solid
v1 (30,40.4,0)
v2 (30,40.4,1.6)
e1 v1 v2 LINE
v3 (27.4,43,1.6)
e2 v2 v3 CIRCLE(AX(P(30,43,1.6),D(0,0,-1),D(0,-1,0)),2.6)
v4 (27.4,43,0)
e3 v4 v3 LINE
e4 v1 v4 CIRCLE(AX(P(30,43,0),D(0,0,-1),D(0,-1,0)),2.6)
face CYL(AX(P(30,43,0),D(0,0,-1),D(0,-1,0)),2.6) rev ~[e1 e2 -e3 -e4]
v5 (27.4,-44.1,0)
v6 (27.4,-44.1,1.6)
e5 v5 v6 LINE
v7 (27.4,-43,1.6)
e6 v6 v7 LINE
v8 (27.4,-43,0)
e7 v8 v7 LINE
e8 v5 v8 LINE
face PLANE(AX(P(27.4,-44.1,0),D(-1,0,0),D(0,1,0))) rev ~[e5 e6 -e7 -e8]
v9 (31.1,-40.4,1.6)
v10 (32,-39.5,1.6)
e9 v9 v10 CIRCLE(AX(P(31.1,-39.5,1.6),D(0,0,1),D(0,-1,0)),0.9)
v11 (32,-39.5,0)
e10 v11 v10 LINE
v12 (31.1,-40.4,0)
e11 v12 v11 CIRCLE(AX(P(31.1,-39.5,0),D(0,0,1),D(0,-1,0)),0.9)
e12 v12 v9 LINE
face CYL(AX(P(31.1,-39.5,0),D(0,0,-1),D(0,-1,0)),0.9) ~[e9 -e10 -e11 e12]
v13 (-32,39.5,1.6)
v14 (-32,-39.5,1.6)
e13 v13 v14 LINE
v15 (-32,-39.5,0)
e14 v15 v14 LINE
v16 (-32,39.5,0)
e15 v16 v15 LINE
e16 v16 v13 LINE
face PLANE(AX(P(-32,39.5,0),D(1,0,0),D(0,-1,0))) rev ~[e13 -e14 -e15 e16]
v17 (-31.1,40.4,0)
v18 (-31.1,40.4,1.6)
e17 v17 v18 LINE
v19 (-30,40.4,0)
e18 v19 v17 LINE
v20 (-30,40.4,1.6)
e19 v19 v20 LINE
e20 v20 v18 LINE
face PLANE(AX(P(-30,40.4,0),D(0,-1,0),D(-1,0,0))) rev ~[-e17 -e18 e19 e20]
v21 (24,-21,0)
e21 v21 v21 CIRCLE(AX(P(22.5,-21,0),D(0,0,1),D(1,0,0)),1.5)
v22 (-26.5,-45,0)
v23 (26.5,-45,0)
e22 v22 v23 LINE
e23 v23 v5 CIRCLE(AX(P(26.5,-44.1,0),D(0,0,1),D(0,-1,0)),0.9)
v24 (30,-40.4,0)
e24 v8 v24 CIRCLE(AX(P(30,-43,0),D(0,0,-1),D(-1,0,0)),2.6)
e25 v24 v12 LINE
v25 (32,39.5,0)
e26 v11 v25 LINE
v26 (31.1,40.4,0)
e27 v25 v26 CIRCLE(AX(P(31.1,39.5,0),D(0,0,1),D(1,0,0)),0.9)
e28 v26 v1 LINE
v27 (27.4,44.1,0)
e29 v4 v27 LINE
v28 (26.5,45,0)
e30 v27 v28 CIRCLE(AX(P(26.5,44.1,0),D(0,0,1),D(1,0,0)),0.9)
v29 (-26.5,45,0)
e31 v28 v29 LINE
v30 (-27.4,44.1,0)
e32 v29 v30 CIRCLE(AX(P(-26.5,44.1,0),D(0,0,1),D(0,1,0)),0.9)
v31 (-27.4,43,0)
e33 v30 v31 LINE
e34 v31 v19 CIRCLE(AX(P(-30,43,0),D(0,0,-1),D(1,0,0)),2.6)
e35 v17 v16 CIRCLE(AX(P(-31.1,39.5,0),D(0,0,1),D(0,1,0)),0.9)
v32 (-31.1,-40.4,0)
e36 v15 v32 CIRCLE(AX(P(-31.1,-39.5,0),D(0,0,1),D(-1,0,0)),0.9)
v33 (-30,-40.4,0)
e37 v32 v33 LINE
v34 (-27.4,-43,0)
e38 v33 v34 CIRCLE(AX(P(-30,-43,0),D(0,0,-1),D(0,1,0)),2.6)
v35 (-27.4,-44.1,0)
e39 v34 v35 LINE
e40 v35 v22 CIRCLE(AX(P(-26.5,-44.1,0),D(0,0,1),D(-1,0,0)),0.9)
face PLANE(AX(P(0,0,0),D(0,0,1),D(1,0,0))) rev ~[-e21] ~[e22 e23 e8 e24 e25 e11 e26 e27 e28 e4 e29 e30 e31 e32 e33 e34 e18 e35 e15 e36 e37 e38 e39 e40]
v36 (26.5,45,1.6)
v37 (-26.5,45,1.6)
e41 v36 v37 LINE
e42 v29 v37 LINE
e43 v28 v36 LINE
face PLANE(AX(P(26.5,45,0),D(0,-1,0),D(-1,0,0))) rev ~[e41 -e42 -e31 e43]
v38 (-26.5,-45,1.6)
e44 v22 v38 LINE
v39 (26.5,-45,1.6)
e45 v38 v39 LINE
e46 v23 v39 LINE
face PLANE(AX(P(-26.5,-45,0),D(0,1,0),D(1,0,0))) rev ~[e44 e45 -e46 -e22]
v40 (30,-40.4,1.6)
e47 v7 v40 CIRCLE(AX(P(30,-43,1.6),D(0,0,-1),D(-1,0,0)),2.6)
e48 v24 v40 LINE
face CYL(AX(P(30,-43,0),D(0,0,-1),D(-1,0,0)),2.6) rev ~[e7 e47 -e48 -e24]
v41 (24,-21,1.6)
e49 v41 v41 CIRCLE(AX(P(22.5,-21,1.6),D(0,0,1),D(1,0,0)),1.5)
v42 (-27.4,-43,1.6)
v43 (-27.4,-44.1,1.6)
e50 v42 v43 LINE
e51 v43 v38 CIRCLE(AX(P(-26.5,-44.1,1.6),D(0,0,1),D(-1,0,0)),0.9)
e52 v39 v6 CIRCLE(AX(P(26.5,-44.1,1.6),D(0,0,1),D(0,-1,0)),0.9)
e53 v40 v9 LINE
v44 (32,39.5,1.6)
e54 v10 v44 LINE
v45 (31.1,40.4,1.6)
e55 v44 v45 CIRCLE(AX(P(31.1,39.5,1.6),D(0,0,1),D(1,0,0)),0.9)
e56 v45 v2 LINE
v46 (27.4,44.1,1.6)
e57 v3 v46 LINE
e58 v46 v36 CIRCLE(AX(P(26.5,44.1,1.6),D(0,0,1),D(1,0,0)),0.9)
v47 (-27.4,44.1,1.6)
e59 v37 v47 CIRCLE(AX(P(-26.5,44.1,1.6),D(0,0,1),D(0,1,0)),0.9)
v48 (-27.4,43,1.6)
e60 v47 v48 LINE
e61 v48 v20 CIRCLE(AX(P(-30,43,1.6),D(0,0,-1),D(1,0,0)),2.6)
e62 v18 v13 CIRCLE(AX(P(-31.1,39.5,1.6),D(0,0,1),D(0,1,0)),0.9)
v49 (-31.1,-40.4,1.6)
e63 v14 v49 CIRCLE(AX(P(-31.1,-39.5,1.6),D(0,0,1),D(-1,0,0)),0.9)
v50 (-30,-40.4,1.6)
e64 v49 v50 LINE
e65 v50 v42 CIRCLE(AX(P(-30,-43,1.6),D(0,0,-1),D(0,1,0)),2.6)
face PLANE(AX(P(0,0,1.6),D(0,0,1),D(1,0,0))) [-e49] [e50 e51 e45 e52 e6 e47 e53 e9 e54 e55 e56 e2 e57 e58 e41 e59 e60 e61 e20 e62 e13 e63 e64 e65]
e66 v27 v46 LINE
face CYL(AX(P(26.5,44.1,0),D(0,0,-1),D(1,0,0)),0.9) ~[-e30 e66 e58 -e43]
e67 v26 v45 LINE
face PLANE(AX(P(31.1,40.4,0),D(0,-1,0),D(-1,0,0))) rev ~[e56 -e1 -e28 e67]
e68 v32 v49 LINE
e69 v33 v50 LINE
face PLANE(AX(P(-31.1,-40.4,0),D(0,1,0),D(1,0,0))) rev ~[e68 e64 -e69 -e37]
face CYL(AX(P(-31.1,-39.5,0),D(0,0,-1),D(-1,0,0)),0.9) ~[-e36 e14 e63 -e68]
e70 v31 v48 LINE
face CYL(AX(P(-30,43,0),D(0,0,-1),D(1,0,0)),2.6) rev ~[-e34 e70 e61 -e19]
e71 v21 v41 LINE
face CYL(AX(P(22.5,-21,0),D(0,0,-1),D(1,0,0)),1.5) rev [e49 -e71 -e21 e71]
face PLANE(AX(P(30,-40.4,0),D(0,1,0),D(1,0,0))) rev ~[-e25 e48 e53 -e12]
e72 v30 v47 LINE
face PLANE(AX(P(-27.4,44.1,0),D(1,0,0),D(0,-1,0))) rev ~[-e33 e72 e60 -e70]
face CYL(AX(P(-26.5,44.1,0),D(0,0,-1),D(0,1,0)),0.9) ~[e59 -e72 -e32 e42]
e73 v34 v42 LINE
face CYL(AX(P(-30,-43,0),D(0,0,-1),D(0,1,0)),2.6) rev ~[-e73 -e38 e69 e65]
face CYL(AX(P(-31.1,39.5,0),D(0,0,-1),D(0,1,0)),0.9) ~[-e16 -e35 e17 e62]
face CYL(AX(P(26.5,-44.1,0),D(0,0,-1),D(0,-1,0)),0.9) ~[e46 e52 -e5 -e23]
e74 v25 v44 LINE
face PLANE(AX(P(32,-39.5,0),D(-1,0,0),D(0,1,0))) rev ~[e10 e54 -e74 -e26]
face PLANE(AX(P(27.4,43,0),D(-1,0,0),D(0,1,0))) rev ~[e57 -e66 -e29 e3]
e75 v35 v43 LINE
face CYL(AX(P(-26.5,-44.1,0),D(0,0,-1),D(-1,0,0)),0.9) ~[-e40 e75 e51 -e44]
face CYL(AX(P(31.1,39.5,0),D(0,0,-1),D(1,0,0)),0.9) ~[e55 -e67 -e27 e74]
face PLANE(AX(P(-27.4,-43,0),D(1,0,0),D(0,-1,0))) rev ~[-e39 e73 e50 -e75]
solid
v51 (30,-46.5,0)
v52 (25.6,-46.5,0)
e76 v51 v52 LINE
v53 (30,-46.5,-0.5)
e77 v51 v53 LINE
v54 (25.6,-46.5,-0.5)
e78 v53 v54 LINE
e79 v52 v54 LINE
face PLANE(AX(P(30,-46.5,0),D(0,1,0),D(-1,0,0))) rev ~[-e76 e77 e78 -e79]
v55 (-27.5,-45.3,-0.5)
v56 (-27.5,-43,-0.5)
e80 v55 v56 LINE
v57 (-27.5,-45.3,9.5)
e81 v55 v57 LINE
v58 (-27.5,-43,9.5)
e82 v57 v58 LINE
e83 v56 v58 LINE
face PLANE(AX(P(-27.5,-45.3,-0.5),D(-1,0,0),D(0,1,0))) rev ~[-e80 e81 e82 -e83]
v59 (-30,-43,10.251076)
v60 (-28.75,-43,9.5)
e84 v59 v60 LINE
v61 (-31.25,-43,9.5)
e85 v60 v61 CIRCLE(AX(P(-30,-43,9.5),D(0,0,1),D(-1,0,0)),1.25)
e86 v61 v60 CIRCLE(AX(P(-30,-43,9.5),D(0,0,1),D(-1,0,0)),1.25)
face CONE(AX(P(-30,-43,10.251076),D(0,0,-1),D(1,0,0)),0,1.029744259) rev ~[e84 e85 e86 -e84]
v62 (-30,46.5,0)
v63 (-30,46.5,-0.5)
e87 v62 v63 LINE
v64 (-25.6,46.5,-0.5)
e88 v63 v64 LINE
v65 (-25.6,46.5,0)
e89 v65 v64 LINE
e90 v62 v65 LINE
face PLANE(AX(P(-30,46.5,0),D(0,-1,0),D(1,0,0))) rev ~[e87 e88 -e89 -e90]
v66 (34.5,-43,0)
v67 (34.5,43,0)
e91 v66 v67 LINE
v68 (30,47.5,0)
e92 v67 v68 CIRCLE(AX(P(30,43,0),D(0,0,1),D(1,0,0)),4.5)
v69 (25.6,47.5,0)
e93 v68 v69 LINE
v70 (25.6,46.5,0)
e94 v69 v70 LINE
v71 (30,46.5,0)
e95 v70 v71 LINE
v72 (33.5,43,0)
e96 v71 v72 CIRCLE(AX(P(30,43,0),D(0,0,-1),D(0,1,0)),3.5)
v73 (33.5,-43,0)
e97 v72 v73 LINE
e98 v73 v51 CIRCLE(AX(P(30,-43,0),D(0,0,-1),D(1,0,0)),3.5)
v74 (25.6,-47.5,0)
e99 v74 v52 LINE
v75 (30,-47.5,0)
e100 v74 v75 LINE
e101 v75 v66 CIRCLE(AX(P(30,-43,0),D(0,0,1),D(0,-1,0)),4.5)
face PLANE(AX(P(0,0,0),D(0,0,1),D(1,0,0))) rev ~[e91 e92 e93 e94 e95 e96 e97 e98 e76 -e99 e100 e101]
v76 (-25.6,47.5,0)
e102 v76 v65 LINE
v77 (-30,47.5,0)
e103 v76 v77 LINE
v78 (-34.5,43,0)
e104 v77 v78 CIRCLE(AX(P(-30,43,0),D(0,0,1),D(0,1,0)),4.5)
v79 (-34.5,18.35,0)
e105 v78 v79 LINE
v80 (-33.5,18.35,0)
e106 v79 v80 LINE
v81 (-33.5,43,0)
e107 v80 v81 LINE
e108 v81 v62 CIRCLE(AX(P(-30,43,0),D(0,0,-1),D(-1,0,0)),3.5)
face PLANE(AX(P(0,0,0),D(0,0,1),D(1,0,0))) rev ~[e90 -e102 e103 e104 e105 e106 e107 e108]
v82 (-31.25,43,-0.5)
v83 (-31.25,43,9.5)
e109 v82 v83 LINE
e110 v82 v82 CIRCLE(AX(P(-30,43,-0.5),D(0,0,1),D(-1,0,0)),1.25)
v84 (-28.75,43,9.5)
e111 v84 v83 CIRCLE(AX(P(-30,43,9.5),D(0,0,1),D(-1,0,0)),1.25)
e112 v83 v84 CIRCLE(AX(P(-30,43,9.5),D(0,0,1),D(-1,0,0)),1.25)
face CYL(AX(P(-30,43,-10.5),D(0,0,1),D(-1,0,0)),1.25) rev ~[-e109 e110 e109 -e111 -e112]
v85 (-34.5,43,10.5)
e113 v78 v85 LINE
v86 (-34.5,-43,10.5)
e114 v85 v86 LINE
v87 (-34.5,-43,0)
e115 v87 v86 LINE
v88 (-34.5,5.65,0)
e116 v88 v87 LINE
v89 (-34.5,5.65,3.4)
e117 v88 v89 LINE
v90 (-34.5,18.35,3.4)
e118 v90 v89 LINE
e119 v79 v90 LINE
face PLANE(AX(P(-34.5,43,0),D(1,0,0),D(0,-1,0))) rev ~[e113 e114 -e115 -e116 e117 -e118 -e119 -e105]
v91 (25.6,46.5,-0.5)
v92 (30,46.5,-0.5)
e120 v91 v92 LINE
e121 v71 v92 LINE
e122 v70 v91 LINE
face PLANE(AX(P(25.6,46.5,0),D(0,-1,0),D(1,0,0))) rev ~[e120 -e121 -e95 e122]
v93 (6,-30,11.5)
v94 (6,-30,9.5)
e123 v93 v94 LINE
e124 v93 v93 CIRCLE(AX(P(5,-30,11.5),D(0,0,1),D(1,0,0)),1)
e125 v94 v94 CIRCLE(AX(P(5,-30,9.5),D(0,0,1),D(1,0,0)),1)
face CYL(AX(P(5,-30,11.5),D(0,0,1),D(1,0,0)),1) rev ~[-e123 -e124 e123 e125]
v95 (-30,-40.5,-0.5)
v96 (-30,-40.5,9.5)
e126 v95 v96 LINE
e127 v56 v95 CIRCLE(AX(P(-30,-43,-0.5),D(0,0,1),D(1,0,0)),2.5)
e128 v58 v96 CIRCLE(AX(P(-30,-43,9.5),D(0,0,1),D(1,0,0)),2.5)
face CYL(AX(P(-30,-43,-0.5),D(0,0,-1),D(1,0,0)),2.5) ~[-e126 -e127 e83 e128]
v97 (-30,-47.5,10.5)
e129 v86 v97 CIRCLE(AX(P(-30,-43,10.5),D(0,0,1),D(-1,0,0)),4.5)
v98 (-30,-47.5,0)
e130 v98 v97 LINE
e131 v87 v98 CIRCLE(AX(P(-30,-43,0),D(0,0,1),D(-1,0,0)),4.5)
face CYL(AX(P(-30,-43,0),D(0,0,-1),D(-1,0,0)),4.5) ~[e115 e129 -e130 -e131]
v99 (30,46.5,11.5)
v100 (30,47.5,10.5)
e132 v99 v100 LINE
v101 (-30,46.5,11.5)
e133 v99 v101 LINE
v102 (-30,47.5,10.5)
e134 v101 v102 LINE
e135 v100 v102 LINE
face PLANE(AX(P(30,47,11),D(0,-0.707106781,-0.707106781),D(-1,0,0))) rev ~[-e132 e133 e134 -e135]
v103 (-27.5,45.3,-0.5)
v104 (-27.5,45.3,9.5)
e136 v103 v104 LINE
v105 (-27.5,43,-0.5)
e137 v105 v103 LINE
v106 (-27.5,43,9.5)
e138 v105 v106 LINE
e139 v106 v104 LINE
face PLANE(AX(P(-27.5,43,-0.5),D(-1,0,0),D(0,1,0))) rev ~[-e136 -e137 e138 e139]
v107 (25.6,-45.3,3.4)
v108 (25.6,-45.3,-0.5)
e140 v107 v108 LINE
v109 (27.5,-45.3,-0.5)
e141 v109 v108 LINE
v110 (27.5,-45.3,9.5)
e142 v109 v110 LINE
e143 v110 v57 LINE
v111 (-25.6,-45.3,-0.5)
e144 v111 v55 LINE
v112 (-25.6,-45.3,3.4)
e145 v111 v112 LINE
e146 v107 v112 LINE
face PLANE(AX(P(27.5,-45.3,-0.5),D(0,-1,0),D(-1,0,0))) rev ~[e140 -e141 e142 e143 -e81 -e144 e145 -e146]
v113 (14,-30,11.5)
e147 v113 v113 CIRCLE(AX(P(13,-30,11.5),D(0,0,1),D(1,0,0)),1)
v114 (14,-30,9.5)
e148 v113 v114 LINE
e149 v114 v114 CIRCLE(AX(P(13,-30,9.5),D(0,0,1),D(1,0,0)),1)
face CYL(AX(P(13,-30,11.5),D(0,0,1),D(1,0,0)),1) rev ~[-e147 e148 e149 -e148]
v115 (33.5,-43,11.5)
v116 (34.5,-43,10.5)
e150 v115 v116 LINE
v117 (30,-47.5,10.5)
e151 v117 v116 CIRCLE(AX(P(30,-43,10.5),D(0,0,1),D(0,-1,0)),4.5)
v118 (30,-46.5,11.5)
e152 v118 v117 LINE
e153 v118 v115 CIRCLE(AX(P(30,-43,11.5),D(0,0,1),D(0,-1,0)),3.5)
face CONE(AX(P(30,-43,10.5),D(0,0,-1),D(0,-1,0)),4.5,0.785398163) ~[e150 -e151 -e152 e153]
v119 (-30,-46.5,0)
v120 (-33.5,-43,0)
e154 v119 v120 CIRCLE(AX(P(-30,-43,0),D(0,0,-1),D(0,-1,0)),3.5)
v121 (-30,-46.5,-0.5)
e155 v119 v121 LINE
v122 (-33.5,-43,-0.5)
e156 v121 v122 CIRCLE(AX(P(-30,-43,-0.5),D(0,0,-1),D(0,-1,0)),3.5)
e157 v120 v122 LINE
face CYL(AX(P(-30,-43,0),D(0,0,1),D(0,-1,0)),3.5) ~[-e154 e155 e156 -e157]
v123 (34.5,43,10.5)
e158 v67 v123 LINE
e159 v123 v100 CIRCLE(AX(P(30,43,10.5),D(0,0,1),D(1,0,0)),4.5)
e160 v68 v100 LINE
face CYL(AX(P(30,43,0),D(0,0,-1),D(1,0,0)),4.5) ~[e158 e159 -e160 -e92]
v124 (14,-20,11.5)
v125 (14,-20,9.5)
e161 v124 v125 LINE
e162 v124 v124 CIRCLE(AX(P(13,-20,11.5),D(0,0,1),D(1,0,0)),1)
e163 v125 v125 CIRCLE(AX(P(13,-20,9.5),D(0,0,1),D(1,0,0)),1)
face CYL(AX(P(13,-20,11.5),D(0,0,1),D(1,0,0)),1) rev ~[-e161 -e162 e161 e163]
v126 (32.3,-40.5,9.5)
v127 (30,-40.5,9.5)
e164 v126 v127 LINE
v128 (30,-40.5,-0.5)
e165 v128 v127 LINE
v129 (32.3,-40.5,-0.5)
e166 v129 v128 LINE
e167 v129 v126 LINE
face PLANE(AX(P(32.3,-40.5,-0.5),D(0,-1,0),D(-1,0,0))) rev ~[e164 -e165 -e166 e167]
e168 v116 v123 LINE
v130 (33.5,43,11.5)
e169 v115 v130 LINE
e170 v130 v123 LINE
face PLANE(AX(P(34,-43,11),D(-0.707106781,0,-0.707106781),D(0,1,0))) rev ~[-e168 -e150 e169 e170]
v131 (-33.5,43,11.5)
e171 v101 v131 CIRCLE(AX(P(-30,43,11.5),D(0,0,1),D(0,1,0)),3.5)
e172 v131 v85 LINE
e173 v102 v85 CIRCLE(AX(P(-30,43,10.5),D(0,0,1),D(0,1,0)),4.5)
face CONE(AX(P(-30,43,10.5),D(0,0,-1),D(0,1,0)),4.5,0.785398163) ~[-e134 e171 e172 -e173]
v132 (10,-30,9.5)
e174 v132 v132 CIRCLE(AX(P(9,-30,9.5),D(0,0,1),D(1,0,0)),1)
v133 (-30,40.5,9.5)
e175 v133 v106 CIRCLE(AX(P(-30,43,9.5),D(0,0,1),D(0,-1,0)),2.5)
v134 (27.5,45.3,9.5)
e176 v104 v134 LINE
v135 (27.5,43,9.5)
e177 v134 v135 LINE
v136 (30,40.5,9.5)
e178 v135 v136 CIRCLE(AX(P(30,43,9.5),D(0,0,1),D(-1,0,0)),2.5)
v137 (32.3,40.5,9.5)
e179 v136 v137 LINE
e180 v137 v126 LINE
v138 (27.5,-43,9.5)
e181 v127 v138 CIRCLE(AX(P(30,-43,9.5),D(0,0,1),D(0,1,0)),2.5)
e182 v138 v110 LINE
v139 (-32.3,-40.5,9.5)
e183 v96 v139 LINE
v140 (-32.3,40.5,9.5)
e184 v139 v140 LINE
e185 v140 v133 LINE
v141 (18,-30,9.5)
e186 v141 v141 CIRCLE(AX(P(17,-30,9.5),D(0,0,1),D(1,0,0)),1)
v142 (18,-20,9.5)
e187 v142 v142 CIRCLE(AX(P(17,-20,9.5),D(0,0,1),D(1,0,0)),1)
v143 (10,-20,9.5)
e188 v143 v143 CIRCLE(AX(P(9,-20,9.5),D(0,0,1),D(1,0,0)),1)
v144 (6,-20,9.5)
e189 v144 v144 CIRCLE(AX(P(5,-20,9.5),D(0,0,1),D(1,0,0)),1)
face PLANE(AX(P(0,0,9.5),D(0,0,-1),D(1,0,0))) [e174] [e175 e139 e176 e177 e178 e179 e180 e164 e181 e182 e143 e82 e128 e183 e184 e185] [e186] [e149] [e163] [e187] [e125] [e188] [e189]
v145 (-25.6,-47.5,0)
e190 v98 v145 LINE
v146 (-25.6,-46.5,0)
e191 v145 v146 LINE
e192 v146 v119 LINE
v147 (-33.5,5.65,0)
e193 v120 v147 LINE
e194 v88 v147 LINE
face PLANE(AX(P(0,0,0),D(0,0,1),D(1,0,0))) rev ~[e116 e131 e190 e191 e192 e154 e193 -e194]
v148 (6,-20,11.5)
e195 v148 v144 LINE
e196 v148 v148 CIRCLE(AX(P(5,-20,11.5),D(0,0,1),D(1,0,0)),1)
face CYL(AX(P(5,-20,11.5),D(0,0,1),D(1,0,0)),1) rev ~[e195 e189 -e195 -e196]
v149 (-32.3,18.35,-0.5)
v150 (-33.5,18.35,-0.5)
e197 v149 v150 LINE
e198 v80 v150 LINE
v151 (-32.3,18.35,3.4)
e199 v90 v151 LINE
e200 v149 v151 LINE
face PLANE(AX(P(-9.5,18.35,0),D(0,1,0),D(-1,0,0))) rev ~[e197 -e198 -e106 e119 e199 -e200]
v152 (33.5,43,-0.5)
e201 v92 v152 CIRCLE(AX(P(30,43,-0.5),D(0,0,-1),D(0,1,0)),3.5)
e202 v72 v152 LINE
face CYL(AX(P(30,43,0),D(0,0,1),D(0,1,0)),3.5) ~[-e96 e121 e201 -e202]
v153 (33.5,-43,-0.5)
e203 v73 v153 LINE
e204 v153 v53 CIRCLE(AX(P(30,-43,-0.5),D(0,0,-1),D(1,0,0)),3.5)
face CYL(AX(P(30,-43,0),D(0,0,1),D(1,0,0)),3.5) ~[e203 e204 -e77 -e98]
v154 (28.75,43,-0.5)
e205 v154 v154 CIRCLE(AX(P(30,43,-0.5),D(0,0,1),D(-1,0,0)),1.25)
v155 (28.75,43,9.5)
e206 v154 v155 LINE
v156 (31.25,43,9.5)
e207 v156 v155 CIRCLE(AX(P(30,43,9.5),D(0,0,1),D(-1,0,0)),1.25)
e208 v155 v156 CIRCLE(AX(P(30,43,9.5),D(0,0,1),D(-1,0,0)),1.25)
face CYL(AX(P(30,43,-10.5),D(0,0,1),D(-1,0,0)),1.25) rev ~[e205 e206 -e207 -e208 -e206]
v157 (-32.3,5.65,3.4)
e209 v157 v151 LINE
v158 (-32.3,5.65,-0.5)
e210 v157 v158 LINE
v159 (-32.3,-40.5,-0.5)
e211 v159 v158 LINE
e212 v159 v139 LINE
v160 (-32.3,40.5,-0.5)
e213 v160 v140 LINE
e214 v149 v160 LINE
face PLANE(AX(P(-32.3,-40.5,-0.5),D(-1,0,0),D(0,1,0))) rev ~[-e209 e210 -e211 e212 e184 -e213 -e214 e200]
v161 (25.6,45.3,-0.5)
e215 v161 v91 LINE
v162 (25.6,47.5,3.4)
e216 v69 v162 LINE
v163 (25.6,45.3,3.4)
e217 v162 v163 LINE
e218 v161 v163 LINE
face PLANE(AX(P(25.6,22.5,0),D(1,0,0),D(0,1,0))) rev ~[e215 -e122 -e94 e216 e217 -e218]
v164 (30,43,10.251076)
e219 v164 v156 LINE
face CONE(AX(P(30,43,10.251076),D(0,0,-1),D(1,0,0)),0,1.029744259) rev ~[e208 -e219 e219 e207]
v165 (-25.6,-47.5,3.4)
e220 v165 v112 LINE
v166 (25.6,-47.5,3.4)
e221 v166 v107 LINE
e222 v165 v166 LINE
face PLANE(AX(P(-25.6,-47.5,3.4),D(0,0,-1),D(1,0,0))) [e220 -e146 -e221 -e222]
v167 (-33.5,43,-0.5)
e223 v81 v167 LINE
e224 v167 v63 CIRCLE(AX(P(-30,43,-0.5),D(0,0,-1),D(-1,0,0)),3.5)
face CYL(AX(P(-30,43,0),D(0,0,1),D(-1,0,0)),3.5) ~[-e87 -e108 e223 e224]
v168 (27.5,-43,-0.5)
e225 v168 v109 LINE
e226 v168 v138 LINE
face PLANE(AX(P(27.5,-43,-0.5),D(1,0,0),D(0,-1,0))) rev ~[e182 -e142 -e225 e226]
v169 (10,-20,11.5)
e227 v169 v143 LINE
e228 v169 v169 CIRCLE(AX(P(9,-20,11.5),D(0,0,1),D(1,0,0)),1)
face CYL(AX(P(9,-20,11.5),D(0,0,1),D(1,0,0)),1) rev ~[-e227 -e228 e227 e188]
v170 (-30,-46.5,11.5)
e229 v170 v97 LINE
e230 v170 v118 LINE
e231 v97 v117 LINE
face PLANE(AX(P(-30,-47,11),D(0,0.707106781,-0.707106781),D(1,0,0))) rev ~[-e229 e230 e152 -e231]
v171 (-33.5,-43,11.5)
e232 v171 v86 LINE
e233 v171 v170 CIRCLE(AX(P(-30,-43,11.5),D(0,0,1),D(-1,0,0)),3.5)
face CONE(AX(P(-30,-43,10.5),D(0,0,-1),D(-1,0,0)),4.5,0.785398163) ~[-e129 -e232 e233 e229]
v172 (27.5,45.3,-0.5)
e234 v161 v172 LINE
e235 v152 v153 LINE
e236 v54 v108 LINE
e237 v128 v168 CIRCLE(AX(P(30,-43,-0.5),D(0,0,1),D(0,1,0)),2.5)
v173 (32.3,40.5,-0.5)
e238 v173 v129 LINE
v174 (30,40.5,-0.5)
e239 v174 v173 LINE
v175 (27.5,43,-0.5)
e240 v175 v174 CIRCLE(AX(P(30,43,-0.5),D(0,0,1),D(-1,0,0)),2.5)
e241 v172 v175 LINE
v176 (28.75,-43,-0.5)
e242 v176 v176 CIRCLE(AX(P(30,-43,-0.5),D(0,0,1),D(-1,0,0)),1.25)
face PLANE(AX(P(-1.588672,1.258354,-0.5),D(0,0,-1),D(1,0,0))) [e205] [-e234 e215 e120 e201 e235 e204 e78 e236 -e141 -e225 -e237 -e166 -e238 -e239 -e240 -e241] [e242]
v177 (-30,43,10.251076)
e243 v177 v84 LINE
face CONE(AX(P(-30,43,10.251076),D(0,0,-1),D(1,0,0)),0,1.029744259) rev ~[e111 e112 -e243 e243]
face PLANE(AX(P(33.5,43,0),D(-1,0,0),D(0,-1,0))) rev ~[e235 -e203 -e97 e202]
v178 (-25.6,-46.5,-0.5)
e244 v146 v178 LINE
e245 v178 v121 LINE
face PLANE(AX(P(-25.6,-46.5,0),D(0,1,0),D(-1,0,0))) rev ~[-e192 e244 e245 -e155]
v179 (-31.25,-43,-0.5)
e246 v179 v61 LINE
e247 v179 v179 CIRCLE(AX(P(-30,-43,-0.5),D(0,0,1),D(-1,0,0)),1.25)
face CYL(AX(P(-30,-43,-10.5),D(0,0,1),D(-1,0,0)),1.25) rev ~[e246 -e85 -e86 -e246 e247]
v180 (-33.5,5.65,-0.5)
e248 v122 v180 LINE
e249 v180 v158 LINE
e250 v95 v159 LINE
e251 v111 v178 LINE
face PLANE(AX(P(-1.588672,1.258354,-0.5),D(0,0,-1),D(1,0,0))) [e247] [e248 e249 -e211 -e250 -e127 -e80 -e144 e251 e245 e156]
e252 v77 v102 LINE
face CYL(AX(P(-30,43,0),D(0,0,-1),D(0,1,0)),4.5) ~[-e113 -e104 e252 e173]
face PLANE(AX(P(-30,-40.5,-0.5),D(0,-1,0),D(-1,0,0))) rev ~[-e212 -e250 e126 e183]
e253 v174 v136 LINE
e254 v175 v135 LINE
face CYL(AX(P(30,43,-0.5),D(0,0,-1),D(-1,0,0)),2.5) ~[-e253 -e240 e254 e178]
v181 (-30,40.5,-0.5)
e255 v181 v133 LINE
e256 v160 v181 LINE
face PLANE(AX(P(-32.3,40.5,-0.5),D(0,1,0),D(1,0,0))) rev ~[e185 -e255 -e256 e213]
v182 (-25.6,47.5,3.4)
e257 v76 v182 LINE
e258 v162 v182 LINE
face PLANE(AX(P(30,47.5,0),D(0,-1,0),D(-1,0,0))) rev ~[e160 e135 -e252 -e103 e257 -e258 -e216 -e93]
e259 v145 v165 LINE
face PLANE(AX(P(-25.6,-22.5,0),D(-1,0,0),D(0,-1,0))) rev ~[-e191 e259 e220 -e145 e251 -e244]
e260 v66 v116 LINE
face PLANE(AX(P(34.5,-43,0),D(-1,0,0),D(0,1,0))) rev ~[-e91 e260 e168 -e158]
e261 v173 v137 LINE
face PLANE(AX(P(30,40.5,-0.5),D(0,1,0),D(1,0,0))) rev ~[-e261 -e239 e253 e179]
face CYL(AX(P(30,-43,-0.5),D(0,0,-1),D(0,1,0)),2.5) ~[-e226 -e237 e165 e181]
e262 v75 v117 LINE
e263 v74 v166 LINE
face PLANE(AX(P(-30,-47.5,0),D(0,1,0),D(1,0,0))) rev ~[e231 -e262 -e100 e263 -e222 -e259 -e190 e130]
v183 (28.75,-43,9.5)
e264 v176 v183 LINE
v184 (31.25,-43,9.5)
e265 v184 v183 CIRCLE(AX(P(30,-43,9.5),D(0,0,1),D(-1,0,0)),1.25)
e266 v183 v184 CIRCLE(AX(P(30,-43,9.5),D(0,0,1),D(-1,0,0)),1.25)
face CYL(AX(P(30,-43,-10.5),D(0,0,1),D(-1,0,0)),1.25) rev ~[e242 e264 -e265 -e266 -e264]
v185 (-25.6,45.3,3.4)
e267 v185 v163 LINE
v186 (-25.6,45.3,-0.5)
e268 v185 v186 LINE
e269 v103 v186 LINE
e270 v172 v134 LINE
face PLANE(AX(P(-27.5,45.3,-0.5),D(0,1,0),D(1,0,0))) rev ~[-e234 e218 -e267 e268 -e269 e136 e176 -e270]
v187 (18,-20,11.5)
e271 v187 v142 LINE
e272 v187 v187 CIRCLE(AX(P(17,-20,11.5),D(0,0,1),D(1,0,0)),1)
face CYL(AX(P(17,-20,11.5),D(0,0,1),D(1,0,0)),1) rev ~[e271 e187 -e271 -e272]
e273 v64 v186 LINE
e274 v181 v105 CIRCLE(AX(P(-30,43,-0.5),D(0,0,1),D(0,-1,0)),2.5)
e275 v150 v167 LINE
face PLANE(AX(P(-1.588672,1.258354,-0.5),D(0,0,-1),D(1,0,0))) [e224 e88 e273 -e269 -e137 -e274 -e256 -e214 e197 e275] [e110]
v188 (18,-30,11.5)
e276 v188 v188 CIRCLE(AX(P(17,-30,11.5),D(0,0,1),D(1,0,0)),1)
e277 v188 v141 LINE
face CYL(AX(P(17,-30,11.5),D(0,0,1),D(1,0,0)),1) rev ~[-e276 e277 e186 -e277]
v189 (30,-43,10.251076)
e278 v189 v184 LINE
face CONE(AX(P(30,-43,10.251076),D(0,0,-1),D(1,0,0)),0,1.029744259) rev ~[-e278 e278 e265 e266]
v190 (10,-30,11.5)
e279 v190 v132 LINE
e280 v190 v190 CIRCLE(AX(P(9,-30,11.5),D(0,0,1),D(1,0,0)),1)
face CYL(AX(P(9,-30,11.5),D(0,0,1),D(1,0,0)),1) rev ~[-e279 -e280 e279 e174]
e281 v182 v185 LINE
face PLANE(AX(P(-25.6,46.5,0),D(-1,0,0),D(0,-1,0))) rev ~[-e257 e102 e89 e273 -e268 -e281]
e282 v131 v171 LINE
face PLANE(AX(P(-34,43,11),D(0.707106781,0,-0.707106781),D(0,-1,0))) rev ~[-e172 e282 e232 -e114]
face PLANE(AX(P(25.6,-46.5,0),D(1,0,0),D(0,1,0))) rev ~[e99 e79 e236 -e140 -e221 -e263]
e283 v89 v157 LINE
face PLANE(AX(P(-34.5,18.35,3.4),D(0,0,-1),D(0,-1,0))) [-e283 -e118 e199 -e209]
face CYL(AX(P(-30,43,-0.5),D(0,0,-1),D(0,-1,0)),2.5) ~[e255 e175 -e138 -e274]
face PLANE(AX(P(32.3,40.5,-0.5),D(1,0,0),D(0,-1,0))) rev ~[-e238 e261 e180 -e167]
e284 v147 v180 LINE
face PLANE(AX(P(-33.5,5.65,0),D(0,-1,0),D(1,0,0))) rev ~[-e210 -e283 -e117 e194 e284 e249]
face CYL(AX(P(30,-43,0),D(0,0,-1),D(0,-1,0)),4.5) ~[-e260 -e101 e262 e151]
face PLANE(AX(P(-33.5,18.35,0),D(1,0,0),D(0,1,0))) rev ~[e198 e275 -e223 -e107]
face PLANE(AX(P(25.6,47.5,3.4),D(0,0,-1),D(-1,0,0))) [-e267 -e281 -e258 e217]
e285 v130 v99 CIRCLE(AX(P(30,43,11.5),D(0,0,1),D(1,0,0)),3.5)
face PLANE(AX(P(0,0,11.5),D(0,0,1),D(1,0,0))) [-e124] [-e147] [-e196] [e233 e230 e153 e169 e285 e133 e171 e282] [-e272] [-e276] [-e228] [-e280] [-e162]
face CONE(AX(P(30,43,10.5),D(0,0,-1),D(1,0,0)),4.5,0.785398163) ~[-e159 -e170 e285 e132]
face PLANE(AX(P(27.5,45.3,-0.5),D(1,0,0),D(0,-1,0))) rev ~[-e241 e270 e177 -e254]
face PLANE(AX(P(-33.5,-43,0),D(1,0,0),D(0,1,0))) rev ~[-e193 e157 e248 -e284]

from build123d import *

# Parameters (mm, degrees)
F1_DEPTH  = 11.5
F3_W      = 51.2
F3_H      = 3.4
F5_DEPTH  = 25
F2_W      = 51.2
F2_H      = 3.4
F6_DEPTH  = 25
F4_W      = 12.7
F4_H      = 3.4
F7_DEPTH  = 25
F9_DEPTH  = 0.5
F11_DEPTH = 10
F12_SIZE  = 1
F13_R     = 1
F14_DEPTH = 12.001
F15_R     = 1.5
F16_DEPTH = 1.6
F17_D     = 2.5
F17_DEPTH = 10
F17_TIP   = 0.7510757738


with BuildPart() as f1:
    # F0 (on Top) → F1 (new body)
    with BuildSketch(Plane.XY):
        with BuildLine():
            ThreePointArc((-34.5, -43), (-33.1819805153, -46.1819805153), (-30, -47.5))
            Line((-30, -47.5), (30, -47.5))
            ThreePointArc((30, -47.5), (33.1819805153, -46.1819805153), (34.5, -43))
            Line((34.5, -43), (34.5, 43))
            ThreePointArc((34.5, 43), (33.1819805153, 46.1819805153), (30, 47.5))
            Line((30, 47.5), (-30, 47.5))
            ThreePointArc((-30, 47.5), (-33.1819805153, 46.1819805153), (-34.5, 43))
            Line((-34.5, 43), (-34.5, -43))
        make_face()
    extrude(amount=F1_DEPTH)

    # F3 (on face) → F5 (cut)
    with BuildSketch(Plane(origin=(0, 47.5, 0), x_dir=(-1, 0, 0), z_dir=(0, 1, 0))):
        with Locations((0, 1.7)):
            Rectangle(F3_W, F3_H)
    extrude(amount=-F5_DEPTH, mode=Mode.SUBTRACT)

    # F2 (on face) → F6 (cut)
    with BuildSketch(Plane.XZ.offset(47.5)):
        with Locations((0, 1.7)):
            Rectangle(F2_W, F2_H)
    extrude(amount=-F6_DEPTH, mode=Mode.SUBTRACT)

    # F4 (on face) → F7 (cut)
    with BuildSketch(Plane(origin=(-34.5, 0, 0), x_dir=(0, -1, 0), z_dir=(-1, 0, 0))):
        with Locations((-12, 1.7)):
            Rectangle(F4_W, F4_H)
    extrude(amount=-F7_DEPTH, mode=Mode.SUBTRACT)

    # F8 (on face) → F9 (join)
    with BuildSketch(Plane(origin=(0, 0, 0), x_dir=(1, 0, 0), z_dir=(0, 0, -1))):
        with BuildLine():
            ThreePointArc((-30, 46.5), (-32.4748737342, 45.4748737342), (-33.5, 43))
            Line((-33.5, 43), (-33.5, -5.65))
            Line((-33.5, -5.65), (-9.5, -5.65))
            Line((-9.5, -5.65), (-9.5, -18.35))
            Line((-9.5, -18.35), (-33.5, -18.35))
            Line((-33.5, -18.35), (-33.5, -43))
            ThreePointArc((-33.5, -43), (-32.4748737342, -45.4748737342), (-30, -46.5))
            Line((-30, -46.5), (-25.6, -46.5))
            Line((-25.6, -46.5), (-25.6, -22.5))
            Line((-25.6, -22.5), (25.6, -22.5))
            Line((25.6, -22.5), (25.6, -46.5))
            Line((25.6, -46.5), (30, -46.5))
            ThreePointArc((30, -46.5), (32.4748737342, -45.4748737342), (33.5, -43))
            Line((33.5, -43), (33.5, 43))
            ThreePointArc((33.5, 43), (32.4748737342, 45.4748737342), (30, 46.5))
            Line((30, 46.5), (25.6, 46.5))
            Line((25.6, 46.5), (25.6, 22.5))
            Line((25.6, 22.5), (-25.6, 22.5))
            Line((-25.6, 22.5), (-25.6, 46.5))
            Line((-25.6, 46.5), (-30, 46.5))
        make_face()
    extrude(amount=F9_DEPTH)

    # F10 (on face) → F11 (cut)
    with BuildSketch(Plane(origin=(0, 0, -0.5), x_dir=(1, 0, 0), z_dir=(0, 0, -1))):
        with BuildLine():
            Line((27.5, 45.3), (-27.5, 45.3))
            Line((-27.5, 45.3), (-27.5, 43))
            ThreePointArc((-27.5, 43), (-28.232233047, 41.232233047), (-30, 40.5))
            Line((-30, 40.5), (-32.3, 40.5))
            Line((-32.3, 40.5), (-32.3, -40.5))
            Line((-32.3, -40.5), (-30, -40.5))
            ThreePointArc((-30, -40.5), (-28.232233047, -41.232233047), (-27.5, -43))
            Line((-27.5, -43), (-27.5, -45.3))
            Line((-27.5, -45.3), (27.5, -45.3))
            Line((27.5, -45.3), (27.5, -43))
            ThreePointArc((27.5, -43), (28.232233047, -41.232233047), (30, -40.5))
            Line((30, -40.5), (32.3, -40.5))
            Line((32.3, -40.5), (32.3, 40.5))
            Line((32.3, 40.5), (30, 40.5))
            ThreePointArc((30, 40.5), (28.232233047, 41.232233047), (27.5, 43))
            Line((27.5, 43), (27.5, 45.3))
        make_face()
    extrude(amount=-F11_DEPTH, mode=Mode.SUBTRACT)

    # F12
    f12_edges = [f1.edges().sort_by_distance(p)[0] for p in [
        (0, 47.5, 11.5),
        (-33.181981, 46.181981, 11.5),
        (-34.5, 0, 11.5),
        (-33.181981, -46.181981, 11.5),
        (0, -47.5, 11.5),
        (33.181981, -46.181981, 11.5),
        (34.5, 0, 11.5),
        (33.181981, 46.181981, 11.5),
    ]]
    chamfer(f12_edges, length=F12_SIZE)

    # F13 (on face) → F14 (cut, through all)
    with BuildSketch(Plane.XY.offset(11.5)):
        with Locations((5, -30)):
            Circle(F13_R)
        with Locations((9, -30)):
            Circle(F13_R)
        with Locations((13, -30)):
            Circle(F13_R)
        with Locations((17, -30)):
            Circle(F13_R)
        with Locations((5, -20)):
            Circle(F13_R)
        with Locations((9, -20)):
            Circle(F13_R)
        with Locations((13, -20)):
            Circle(F13_R)
        with Locations((17, -20)):
            Circle(F13_R)
    extrude(amount=-F14_DEPTH, mode=Mode.SUBTRACT)

    # F17
    with Locations(Plane(origin=(0, 0, -0.5), x_dir=(1, 0, 0), z_dir=(0, 0, -1))):
        with Locations((-30, 43), (30, 43), (30, -43), (-30, -43)):
            Hole(F17_D / 2, depth=F17_DEPTH)
            with Locations((0, 0, -(F17_DEPTH + F17_TIP / 2))):  # 118° drill point
                Cone(0, F17_D / 2, F17_TIP, mode=Mode.SUBTRACT)


with BuildPart() as f16:
    # F15 (on Top) → F16 (new body)
    with BuildSketch(Plane.XY):
        with BuildLine():
            ThreePointArc((-27.4, -44.1), (-27.1363961031, -44.7363961031), (-26.5, -45))
            Line((-26.5, -45), (26.5, -45))
            ThreePointArc((26.5, -45), (27.1363961031, -44.7363961031), (27.4, -44.1))
            Line((27.4, -44.1), (27.4, -43))
            ThreePointArc((27.4, -43), (28.1615223689, -41.1615223689), (30, -40.4))
            Line((30, -40.4), (31.1, -40.4))
            ThreePointArc((31.1, -40.4), (31.7363961031, -40.1363961031), (32, -39.5))
            Line((32, -39.5), (32, 39.5))
            ThreePointArc((32, 39.5), (31.7363961031, 40.1363961031), (31.1, 40.4))
            Line((31.1, 40.4), (30, 40.4))
            ThreePointArc((30, 40.4), (28.1615223689, 41.1615223689), (27.4, 43))
            Line((27.4, 43), (27.4, 44.1))
            ThreePointArc((27.4, 44.1), (27.1363961031, 44.7363961031), (26.5, 45))
            Line((26.5, 45), (-26.5, 45))
            ThreePointArc((-26.5, 45), (-27.1363961031, 44.7363961031), (-27.4, 44.1))
            Line((-27.4, 44.1), (-27.4, 43))
            ThreePointArc((-27.4, 43), (-28.1615223689, 41.1615223689), (-30, 40.4))
            Line((-30, 40.4), (-31.1, 40.4))
            ThreePointArc((-31.1, 40.4), (-31.7363961031, 40.1363961031), (-32, 39.5))
            Line((-32, 39.5), (-32, -39.5))
            ThreePointArc((-32, -39.5), (-31.7363961031, -40.1363961031), (-31.1, -40.4))
            Line((-31.1, -40.4), (-30, -40.4))
            ThreePointArc((-30, -40.4), (-28.1615223689, -41.1615223689), (-27.4, -43))
            Line((-27.4, -43), (-27.4, -44.1))
        make_face()
        with Locations((22.5, -21)):
            Circle(F15_R, mode=Mode.SUBTRACT)
    extrude(amount=F16_DEPTH)


solid = Compound([f1.part, f16.part])
